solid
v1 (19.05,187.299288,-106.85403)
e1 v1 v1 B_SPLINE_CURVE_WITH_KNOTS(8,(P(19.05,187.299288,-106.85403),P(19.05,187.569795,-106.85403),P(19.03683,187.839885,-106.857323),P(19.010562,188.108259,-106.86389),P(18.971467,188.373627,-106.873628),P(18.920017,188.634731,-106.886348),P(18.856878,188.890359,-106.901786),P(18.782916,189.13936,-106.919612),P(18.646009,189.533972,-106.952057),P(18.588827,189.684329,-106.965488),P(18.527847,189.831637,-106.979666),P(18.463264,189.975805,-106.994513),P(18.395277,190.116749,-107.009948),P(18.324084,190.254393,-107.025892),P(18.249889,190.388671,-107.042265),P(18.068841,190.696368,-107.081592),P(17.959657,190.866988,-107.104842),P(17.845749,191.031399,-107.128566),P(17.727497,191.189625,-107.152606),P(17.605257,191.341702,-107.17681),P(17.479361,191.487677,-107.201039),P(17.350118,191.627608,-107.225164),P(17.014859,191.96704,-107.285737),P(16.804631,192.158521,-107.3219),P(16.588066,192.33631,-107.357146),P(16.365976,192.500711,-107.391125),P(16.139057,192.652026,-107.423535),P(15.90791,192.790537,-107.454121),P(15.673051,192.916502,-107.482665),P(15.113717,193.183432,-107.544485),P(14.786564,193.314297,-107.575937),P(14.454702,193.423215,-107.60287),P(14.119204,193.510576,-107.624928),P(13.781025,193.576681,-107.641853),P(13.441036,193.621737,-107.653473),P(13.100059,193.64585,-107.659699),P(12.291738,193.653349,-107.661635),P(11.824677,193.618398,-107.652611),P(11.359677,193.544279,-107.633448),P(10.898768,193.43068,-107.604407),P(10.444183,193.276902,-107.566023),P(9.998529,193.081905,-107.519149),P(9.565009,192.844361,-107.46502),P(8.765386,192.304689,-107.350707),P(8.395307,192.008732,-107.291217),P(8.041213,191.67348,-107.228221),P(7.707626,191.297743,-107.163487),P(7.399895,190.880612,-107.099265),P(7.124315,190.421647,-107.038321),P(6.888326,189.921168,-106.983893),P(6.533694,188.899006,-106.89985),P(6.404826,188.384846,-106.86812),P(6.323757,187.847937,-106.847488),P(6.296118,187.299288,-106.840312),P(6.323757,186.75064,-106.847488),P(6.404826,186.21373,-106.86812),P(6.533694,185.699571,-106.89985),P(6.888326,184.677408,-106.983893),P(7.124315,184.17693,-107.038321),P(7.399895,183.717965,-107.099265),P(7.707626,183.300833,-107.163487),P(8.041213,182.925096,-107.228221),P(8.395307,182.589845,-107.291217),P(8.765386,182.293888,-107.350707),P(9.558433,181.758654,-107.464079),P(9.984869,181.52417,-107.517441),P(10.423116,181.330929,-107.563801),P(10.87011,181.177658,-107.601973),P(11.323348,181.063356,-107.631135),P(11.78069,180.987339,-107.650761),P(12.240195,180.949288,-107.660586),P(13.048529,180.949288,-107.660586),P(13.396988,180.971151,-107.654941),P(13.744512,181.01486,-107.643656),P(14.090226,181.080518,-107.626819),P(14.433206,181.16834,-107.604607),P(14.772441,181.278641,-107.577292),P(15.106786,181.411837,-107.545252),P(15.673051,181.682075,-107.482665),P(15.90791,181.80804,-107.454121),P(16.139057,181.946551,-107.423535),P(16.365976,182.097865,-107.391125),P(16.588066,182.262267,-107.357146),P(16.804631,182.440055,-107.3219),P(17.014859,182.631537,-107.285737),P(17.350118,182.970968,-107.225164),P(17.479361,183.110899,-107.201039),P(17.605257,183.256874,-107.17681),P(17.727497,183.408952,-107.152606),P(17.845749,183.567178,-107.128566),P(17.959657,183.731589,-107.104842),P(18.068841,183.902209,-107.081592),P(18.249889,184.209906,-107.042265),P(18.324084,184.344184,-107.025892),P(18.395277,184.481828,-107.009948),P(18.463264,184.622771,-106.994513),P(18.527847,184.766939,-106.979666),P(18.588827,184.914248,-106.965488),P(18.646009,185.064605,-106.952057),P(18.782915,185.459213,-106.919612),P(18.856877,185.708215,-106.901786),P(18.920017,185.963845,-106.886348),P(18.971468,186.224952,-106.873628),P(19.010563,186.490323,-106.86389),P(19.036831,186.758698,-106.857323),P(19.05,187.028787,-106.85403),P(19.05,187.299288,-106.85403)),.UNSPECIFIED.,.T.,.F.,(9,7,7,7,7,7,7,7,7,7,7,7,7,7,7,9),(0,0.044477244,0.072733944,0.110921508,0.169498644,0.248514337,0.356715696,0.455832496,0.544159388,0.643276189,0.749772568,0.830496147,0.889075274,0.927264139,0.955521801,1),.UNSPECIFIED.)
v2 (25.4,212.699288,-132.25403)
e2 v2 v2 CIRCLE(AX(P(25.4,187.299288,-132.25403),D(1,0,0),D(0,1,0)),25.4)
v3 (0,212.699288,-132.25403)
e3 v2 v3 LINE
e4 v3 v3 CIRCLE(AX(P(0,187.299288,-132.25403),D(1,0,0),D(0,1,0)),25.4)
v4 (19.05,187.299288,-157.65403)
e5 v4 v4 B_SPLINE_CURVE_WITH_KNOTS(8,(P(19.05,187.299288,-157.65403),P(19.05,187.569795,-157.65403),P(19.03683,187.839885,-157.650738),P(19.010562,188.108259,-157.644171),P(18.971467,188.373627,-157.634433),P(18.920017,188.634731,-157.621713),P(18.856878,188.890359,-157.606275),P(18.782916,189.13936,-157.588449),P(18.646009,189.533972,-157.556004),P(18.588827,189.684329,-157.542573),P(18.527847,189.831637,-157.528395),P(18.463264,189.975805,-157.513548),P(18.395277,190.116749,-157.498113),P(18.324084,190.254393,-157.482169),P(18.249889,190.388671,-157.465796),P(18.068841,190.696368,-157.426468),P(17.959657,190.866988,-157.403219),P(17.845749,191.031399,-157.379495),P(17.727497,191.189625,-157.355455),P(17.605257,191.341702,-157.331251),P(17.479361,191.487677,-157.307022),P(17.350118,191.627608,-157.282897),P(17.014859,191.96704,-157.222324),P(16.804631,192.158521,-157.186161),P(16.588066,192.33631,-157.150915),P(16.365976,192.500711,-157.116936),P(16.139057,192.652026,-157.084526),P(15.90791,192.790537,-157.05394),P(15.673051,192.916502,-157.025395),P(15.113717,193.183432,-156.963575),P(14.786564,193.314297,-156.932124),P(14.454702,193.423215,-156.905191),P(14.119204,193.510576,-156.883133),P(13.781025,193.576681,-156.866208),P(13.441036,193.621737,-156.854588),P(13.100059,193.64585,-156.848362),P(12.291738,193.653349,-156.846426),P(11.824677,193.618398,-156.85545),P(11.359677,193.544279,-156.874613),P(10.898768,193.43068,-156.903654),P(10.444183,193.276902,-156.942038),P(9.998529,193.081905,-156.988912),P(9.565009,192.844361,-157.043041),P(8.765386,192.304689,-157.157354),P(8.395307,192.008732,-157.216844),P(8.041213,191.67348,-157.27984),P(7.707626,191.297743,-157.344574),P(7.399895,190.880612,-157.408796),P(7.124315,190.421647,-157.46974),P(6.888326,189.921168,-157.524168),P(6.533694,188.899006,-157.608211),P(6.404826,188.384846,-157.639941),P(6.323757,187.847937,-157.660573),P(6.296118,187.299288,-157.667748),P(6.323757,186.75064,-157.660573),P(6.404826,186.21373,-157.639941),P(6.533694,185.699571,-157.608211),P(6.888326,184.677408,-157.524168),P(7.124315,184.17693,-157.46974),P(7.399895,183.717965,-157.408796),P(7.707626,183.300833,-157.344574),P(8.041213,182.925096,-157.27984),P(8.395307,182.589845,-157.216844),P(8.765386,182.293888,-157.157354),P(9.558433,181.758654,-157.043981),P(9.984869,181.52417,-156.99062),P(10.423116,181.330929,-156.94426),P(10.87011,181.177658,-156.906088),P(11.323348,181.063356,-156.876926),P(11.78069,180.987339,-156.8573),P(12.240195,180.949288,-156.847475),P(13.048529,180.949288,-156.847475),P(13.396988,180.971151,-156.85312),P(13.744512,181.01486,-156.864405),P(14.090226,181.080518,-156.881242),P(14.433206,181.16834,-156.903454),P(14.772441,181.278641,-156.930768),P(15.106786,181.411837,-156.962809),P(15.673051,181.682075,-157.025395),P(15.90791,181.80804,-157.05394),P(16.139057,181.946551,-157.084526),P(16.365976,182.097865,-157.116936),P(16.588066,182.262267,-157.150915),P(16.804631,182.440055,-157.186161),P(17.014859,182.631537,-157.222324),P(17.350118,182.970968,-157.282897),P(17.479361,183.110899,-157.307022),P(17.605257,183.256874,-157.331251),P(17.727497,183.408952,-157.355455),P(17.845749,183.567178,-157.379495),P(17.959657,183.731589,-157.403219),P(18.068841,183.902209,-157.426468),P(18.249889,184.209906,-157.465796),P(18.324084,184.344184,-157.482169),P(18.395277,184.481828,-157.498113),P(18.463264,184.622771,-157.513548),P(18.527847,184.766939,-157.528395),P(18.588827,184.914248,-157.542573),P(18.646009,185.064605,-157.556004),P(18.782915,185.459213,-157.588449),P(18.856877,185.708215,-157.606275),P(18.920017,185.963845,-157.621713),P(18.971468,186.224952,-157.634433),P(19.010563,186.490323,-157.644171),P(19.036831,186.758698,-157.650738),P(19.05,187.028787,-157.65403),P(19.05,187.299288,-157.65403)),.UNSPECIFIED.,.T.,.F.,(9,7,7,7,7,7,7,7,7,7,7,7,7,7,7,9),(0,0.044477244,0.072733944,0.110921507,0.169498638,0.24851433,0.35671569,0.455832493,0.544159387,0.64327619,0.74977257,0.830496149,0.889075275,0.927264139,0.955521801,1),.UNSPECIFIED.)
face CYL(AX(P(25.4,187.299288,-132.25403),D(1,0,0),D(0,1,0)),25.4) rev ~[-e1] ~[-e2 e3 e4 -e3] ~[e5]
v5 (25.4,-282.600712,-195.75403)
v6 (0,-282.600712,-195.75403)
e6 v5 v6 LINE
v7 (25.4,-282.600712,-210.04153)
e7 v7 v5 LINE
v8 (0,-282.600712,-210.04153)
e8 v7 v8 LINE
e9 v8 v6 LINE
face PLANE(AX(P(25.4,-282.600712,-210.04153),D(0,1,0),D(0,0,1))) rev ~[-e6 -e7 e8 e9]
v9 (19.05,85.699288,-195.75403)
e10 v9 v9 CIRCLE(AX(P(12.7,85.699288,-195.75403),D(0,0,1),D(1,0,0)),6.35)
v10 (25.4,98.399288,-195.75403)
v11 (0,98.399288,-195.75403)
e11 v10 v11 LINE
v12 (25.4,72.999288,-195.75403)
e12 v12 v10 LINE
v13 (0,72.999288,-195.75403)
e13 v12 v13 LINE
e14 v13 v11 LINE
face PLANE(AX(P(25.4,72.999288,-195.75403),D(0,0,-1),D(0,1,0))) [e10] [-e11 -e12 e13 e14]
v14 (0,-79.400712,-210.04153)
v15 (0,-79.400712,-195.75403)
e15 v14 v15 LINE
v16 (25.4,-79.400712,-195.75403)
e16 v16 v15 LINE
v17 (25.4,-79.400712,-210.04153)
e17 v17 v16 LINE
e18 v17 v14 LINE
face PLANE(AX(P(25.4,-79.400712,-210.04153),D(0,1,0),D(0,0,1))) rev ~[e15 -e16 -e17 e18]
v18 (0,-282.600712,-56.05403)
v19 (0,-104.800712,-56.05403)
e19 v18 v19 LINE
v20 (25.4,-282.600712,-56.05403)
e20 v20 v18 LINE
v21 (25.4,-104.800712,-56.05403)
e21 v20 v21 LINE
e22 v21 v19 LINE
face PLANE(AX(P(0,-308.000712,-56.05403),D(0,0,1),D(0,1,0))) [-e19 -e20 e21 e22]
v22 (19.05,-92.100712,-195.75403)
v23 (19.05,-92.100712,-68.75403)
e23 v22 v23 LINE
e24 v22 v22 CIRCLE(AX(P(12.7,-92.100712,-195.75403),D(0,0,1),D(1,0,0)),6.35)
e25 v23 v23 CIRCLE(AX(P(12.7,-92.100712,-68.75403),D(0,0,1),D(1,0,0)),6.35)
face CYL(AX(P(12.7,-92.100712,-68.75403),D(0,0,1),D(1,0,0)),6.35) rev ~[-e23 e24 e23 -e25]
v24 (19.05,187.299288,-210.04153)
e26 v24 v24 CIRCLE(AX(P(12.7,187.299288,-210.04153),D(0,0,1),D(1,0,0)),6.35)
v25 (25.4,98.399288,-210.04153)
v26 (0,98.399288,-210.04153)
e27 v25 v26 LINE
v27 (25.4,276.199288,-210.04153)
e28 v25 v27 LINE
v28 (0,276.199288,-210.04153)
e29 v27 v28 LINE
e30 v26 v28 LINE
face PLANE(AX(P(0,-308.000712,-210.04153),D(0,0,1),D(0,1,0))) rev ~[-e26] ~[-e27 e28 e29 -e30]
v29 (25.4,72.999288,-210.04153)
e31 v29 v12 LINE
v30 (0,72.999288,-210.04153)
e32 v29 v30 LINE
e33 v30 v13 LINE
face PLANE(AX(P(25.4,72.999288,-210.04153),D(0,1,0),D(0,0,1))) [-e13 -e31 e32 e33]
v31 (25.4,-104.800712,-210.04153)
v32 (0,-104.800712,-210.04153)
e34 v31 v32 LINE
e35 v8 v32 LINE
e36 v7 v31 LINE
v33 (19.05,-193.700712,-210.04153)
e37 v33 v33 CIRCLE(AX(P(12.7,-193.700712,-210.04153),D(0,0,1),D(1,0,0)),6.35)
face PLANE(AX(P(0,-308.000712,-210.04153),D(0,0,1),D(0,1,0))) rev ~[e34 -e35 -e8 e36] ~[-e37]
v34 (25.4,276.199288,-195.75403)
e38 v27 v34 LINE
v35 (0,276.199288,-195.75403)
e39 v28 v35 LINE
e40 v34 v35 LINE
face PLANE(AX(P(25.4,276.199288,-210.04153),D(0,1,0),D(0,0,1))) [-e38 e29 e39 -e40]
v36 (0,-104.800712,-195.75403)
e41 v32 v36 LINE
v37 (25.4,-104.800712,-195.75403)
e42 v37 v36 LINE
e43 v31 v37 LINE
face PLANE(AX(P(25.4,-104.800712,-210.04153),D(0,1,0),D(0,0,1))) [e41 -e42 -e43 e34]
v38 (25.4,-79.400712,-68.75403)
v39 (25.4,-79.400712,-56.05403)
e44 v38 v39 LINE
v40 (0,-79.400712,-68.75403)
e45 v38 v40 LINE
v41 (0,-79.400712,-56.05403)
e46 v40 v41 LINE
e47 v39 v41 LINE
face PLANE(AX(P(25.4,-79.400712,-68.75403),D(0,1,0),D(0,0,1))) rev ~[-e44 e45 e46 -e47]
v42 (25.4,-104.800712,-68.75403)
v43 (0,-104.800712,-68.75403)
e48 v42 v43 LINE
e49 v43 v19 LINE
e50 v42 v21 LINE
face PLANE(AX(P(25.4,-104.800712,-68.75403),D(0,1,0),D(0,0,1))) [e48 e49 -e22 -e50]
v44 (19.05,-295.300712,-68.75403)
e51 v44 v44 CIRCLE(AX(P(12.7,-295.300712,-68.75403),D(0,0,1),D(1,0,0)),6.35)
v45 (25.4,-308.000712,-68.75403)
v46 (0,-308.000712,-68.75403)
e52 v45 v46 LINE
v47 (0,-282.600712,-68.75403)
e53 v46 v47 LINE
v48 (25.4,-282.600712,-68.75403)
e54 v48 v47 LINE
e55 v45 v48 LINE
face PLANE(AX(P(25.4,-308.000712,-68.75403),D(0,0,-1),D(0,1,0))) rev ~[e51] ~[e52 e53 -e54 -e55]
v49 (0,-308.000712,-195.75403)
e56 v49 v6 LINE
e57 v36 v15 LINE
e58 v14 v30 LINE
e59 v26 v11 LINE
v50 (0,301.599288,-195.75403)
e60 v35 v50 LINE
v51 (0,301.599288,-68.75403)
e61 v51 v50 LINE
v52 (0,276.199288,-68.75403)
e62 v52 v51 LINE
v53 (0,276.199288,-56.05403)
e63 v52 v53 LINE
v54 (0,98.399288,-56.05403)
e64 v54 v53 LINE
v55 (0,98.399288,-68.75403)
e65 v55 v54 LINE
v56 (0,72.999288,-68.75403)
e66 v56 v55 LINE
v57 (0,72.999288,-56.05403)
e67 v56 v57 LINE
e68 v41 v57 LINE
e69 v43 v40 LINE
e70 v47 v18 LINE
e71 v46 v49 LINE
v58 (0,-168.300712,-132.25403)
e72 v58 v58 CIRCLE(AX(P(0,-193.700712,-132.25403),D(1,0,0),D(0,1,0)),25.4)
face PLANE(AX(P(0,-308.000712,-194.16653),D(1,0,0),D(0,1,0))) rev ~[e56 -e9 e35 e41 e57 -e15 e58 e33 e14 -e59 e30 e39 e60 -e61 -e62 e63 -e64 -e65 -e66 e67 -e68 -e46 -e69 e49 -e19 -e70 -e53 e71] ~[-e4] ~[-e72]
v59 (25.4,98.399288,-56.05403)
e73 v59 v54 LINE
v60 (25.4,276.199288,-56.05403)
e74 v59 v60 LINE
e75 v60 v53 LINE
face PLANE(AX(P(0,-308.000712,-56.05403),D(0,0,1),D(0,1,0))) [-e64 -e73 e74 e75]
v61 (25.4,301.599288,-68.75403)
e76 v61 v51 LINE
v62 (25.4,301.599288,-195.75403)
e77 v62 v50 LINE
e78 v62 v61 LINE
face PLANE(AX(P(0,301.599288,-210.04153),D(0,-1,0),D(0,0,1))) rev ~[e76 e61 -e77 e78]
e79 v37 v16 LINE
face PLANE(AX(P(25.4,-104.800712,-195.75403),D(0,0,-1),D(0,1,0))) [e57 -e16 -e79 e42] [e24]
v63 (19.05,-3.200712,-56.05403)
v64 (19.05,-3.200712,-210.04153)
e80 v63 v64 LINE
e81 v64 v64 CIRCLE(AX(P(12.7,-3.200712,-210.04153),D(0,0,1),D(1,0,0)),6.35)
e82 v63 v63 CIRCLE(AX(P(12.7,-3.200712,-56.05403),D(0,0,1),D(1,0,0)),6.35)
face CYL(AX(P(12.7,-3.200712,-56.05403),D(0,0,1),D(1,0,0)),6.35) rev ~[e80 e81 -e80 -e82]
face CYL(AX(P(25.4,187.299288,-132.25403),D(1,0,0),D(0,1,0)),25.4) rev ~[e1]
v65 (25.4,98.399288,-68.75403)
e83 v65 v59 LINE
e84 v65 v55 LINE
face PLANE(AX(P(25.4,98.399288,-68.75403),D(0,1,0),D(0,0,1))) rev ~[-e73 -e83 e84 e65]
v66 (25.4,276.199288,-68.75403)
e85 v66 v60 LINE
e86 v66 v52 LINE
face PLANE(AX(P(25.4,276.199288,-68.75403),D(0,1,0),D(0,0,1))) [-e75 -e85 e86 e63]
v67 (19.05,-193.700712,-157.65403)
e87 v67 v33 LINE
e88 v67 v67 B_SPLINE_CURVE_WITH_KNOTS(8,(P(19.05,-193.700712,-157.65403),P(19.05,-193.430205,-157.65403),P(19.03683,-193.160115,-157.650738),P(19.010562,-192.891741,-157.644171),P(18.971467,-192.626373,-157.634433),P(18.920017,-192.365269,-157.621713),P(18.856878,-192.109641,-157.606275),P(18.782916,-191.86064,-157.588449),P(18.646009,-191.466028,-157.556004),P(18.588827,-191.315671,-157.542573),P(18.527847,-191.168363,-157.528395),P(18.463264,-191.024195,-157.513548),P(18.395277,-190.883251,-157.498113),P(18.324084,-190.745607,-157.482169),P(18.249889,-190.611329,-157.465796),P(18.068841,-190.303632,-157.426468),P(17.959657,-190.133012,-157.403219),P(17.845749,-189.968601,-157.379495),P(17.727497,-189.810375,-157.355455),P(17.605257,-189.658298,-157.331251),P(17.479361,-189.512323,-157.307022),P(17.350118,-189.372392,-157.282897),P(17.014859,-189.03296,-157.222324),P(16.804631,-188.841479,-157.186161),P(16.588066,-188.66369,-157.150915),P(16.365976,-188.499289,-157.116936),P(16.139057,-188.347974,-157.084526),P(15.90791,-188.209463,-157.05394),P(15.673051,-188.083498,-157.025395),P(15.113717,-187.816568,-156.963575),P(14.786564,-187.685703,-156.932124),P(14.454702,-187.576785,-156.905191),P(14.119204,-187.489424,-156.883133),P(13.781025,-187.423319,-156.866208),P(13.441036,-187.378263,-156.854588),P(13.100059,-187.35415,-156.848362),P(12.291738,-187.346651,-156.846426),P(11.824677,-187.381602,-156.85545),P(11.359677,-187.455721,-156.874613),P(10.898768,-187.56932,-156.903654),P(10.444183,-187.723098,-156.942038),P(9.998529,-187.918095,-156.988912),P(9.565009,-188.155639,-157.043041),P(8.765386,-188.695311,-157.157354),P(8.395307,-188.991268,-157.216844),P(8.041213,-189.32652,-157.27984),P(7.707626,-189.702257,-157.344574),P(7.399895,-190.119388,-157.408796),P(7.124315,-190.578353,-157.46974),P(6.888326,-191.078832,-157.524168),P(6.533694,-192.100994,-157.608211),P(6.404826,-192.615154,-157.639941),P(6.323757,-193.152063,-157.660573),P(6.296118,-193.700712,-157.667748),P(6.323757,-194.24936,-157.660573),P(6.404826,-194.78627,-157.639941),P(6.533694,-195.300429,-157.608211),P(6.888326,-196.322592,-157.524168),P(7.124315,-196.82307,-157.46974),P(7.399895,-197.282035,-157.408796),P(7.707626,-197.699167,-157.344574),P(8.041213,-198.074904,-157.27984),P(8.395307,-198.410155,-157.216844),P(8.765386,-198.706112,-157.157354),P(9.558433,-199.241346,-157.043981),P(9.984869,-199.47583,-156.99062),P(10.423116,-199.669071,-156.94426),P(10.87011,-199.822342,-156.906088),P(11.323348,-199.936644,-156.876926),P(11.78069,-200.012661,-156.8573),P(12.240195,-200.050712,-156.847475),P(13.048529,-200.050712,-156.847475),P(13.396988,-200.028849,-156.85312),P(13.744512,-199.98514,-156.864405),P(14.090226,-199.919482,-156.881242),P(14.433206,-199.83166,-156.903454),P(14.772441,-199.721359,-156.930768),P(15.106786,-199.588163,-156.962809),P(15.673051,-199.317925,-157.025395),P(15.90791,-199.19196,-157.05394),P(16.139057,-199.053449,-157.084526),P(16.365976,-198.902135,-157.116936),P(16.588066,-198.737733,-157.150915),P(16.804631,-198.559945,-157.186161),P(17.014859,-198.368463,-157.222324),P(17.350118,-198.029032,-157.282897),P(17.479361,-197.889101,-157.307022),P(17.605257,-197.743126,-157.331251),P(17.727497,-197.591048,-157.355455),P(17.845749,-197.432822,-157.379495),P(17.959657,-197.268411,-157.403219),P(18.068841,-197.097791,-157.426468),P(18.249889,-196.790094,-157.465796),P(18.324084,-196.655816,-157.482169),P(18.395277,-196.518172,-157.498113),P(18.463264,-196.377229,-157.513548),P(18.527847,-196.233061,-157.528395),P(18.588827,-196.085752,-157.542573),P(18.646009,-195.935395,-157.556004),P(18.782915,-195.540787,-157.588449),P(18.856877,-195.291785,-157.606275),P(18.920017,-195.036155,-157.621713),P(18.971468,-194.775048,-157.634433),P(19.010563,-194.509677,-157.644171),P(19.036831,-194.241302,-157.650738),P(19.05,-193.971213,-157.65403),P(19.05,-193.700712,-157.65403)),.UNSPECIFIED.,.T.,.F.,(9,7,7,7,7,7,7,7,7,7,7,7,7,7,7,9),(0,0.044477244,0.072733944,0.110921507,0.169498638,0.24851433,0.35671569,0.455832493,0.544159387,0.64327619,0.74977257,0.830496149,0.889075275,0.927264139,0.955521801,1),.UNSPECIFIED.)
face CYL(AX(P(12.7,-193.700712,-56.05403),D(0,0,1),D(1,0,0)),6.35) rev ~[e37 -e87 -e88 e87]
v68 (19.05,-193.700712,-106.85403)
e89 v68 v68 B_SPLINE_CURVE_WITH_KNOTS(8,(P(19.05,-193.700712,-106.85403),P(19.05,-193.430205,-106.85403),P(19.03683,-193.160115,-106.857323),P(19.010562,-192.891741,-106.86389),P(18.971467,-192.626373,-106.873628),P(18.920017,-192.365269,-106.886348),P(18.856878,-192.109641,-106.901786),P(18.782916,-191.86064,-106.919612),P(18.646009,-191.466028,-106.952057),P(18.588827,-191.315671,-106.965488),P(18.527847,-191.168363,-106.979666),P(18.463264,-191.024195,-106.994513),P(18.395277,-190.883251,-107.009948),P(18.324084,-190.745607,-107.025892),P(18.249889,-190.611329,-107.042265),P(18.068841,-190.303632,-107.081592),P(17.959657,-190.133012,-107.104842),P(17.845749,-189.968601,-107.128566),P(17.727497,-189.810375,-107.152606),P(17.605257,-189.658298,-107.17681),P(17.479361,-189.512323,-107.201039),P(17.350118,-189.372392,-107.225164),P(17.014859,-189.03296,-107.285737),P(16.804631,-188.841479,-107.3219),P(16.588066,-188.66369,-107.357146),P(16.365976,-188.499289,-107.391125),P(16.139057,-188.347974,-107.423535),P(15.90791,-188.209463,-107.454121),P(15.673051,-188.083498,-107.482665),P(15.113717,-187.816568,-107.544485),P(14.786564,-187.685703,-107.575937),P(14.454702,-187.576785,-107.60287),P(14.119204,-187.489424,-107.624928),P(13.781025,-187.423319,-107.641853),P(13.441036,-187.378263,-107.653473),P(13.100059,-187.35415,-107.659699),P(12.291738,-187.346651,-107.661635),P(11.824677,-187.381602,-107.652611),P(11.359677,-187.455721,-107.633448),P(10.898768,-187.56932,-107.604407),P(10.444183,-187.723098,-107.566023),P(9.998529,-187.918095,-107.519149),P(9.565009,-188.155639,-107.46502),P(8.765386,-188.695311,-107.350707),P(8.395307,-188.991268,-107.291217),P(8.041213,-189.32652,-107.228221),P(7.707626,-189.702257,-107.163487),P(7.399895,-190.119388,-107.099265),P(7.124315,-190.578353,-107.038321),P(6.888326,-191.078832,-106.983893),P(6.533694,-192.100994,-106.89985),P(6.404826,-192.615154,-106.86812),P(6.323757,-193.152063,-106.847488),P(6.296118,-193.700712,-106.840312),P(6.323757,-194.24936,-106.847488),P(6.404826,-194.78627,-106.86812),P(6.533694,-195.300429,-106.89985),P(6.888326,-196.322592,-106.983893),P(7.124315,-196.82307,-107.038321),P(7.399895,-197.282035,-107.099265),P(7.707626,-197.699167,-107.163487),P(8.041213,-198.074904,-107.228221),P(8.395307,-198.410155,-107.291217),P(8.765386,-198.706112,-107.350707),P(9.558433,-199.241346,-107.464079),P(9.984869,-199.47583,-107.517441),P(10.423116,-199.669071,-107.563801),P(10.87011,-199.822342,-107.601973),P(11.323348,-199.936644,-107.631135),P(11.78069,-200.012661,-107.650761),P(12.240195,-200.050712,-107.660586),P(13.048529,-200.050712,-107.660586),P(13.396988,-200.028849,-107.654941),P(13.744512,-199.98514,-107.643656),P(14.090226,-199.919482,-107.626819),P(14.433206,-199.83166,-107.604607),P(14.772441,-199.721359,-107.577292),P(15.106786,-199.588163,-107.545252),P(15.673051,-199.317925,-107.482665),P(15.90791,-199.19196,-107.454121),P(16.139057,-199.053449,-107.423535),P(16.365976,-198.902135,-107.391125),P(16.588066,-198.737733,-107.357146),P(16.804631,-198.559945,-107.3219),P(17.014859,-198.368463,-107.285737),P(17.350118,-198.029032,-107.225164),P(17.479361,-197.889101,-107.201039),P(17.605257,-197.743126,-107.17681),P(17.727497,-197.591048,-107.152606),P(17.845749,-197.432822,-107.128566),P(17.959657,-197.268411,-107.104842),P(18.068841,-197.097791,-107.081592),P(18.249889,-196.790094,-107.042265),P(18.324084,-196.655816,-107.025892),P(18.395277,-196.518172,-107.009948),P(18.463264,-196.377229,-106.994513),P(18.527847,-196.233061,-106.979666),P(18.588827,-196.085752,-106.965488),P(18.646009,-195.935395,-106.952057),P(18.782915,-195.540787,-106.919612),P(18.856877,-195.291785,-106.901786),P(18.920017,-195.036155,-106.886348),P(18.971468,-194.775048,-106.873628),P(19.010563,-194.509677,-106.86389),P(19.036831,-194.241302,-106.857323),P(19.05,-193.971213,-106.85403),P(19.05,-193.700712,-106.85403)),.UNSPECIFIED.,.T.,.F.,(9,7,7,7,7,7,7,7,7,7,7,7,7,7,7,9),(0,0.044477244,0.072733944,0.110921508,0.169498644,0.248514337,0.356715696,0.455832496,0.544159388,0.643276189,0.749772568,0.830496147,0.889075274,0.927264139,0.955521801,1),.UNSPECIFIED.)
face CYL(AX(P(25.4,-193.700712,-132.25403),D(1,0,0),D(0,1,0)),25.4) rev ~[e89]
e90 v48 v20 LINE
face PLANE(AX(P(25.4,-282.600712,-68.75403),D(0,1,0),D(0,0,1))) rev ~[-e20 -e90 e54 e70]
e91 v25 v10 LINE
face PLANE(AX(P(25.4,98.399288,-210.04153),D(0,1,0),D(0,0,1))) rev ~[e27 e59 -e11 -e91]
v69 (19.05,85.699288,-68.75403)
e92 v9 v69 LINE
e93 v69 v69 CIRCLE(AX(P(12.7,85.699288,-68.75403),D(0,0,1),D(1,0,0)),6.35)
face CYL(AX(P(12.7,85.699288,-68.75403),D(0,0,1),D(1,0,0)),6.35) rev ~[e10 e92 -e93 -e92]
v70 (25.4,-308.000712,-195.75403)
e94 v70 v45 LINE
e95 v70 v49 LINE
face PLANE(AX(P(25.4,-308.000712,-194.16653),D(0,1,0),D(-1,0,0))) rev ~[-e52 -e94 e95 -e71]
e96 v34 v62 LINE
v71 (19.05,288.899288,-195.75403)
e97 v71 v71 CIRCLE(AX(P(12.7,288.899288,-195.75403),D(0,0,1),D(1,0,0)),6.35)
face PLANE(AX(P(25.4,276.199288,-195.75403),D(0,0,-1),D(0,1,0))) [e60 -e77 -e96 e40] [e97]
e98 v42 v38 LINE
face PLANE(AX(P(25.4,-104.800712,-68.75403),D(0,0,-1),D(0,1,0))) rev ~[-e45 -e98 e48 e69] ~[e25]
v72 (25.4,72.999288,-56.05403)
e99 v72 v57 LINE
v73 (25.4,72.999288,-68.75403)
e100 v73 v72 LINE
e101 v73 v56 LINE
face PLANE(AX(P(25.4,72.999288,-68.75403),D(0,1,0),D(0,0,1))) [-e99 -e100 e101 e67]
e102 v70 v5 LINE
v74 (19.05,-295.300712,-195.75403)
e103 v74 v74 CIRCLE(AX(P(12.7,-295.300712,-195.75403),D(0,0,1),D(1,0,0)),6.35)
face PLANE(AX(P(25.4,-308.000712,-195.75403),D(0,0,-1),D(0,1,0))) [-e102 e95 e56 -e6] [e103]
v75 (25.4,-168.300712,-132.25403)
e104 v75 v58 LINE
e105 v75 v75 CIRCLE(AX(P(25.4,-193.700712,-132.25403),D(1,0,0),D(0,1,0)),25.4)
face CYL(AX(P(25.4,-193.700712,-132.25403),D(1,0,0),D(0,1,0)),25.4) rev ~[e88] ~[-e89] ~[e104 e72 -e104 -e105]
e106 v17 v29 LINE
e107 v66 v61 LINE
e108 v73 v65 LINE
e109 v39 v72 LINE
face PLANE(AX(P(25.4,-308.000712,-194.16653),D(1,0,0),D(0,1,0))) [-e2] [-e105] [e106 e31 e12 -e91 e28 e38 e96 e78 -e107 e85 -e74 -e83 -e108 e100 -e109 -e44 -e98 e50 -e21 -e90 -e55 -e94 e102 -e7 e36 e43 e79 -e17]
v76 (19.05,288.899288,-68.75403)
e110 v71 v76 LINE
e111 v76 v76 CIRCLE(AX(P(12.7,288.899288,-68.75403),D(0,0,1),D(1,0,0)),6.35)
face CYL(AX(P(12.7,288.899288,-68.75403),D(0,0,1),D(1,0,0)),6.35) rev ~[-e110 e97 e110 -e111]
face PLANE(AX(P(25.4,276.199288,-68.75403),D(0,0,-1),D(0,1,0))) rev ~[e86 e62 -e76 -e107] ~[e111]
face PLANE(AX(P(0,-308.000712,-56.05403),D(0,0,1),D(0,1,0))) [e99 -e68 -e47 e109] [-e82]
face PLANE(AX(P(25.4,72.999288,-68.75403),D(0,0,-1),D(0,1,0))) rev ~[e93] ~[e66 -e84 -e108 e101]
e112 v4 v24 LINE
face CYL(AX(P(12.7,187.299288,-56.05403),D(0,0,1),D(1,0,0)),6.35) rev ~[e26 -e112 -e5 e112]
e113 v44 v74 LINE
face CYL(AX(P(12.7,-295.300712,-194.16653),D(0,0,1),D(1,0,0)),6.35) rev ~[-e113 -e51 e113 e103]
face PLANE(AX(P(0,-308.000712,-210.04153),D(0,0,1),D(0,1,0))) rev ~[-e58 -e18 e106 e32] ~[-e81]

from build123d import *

# Parameters (mm, degrees)
F0_W      = 609.6
F0_H      = 153.9875
F1_DEPTH  = 25.4
F2_W      = 25.4
F2_H      = 12.7
F2_H_2    = 15.875
F3_DEPTH  = 25.4
F7_R      = 6.35
F6_R      = 6.35
F5_R      = 6.35
F4_R      = 6.35
F8_DEPTH  = 177.8
F9_DEPTH  = 1.5875
F12_R     = 6.35
F11_R     = 6.35
F10_R     = 6.35
F13_DEPTH = 177.8
F14_R     = 25.4
F15_DEPTH = 25.4
F16_DEPTH = 76.2
F17_DEPTH = 76.2
F18_DEPTH = 25.4
F19_DEPTH = 25.4


with BuildPart() as f1:
    # F0 (on Right) → F1 (new body)
    with BuildSketch(Plane.YZ):
        with Locations((-3.2007116824, -133.0477804439)):
            Rectangle(F0_W, F0_H)
    extrude(amount=F1_DEPTH)

    # F2 (on face) → F3 (cut)
    with BuildSketch(Plane.YZ.offset(25.4)):
        with Locations((-295.3007116824, -62.4040304439)):
            Rectangle(F2_W, F2_H)
        with Locations((-295.3007116824, -202.1040304439)):
            Rectangle(F2_W, F2_H_2)
        with Locations((-92.1007116824, -202.1040304439)):
            Rectangle(F2_W, F2_H_2)
        with Locations((-92.1007116824, -62.4040304439)):
            Rectangle(F2_W, F2_H)
        with Locations((85.6992883176, -62.4040304439)):
            Rectangle(F2_W, F2_H)
        with Locations((85.6992883176, -202.1040304439)):
            Rectangle(F2_W, F2_H_2)
        with Locations((288.8992883176, -62.4040304439)):
            Rectangle(F2_W, F2_H)
        with Locations((288.8992883176, -202.1040304439)):
            Rectangle(F2_W, F2_H_2)
    extrude(amount=-F3_DEPTH, mode=Mode.SUBTRACT)

    # F7 (on face) + F6 (on face) + F5 (on face) + F4 (on face) → F8 (cut)
    with BuildSketch(Plane.XY.offset(-68.7540304439)):
        with Locations((12.7, 288.8992883176)):
            Circle(F7_R)
    with BuildSketch(Plane.XY.offset(-68.7540304439)):
        with Locations((12.7, 85.6992883176)):
            Circle(F6_R)
    with BuildSketch(Plane.XY.offset(-68.7540304439)):
        with Locations((12.7, -92.1007116824)):
            Circle(F5_R)
    with BuildSketch(Plane.XY.offset(-68.7540304439)):
        with Locations((12.7, -295.3007116824)):
            Circle(F4_R)
    extrude(amount=-F8_DEPTH, mode=Mode.SUBTRACT)

    # F9 (add): faces of the model
    f9_faces = [f1.faces().sort_by_distance(p)[0] for p in [
        (12.7, -282.9599219273, -194.1665304439),
        (12.7, -79.7599219273, -194.1665304439),
        (12.7, 98.0400780727, -194.1665304439),
        (12.7, 301.2400780727, -194.1665304439),
    ]]
    extrude(f9_faces, amount=F9_DEPTH)

    # F12 (on face) + F11 (on face) + F10 (on face) → F13 (cut)
    with BuildSketch(Plane.XY.offset(-56.0540304439)):
        with Locations((12.7, -193.7007116824)):
            Circle(F12_R)
    with BuildSketch(Plane.XY.offset(-56.0540304439)):
        with Locations((12.7, -3.2007116824)):
            Circle(F11_R)
    with BuildSketch(Plane.XY.offset(-56.0540304439)):
        with Locations((12.7, 187.2992883176)):
            Circle(F10_R)
    extrude(amount=-F13_DEPTH, mode=Mode.SUBTRACT)

    # F14 (on face) → F15 (cut)
    with BuildSketch(Plane.YZ.offset(25.4)):
        with Locations((-193.7007116824, -132.2540304439)):
            Circle(F14_R)
        with Locations((187.2992883176, -132.2540304439)):
            Circle(F14_R)
    extrude(amount=-F15_DEPTH, mode=Mode.SUBTRACT)

    # F12 (on face) → F16 (join)
    with BuildSketch(Plane.XY.offset(-56.0540304439)):
        with Locations((12.7, -193.7007116824)):
            Circle(F12_R)
    extrude(amount=-F16_DEPTH)

    # F10 (on face) → F17 (join)
    with BuildSketch(Plane.XY.offset(-56.0540304439)):
        with Locations((12.7, 187.2992883176)):
            Circle(F10_R)
    extrude(amount=-F17_DEPTH)

    # F14 (on face) → F18 (cut)
    with BuildSketch(Plane.YZ.offset(25.4)):
        with Locations((187.2992883176, -132.2540304439)):
            Circle(F14_R)
    extrude(amount=-F18_DEPTH, mode=Mode.SUBTRACT)

    # F14 (on face) → F19 (cut)
    with BuildSketch(Plane.YZ.offset(25.4)):
        with Locations((-193.7007116824, -132.2540304439)):
            Circle(F14_R)
    extrude(amount=-F19_DEPTH, mode=Mode.SUBTRACT)


solid = f1.part
